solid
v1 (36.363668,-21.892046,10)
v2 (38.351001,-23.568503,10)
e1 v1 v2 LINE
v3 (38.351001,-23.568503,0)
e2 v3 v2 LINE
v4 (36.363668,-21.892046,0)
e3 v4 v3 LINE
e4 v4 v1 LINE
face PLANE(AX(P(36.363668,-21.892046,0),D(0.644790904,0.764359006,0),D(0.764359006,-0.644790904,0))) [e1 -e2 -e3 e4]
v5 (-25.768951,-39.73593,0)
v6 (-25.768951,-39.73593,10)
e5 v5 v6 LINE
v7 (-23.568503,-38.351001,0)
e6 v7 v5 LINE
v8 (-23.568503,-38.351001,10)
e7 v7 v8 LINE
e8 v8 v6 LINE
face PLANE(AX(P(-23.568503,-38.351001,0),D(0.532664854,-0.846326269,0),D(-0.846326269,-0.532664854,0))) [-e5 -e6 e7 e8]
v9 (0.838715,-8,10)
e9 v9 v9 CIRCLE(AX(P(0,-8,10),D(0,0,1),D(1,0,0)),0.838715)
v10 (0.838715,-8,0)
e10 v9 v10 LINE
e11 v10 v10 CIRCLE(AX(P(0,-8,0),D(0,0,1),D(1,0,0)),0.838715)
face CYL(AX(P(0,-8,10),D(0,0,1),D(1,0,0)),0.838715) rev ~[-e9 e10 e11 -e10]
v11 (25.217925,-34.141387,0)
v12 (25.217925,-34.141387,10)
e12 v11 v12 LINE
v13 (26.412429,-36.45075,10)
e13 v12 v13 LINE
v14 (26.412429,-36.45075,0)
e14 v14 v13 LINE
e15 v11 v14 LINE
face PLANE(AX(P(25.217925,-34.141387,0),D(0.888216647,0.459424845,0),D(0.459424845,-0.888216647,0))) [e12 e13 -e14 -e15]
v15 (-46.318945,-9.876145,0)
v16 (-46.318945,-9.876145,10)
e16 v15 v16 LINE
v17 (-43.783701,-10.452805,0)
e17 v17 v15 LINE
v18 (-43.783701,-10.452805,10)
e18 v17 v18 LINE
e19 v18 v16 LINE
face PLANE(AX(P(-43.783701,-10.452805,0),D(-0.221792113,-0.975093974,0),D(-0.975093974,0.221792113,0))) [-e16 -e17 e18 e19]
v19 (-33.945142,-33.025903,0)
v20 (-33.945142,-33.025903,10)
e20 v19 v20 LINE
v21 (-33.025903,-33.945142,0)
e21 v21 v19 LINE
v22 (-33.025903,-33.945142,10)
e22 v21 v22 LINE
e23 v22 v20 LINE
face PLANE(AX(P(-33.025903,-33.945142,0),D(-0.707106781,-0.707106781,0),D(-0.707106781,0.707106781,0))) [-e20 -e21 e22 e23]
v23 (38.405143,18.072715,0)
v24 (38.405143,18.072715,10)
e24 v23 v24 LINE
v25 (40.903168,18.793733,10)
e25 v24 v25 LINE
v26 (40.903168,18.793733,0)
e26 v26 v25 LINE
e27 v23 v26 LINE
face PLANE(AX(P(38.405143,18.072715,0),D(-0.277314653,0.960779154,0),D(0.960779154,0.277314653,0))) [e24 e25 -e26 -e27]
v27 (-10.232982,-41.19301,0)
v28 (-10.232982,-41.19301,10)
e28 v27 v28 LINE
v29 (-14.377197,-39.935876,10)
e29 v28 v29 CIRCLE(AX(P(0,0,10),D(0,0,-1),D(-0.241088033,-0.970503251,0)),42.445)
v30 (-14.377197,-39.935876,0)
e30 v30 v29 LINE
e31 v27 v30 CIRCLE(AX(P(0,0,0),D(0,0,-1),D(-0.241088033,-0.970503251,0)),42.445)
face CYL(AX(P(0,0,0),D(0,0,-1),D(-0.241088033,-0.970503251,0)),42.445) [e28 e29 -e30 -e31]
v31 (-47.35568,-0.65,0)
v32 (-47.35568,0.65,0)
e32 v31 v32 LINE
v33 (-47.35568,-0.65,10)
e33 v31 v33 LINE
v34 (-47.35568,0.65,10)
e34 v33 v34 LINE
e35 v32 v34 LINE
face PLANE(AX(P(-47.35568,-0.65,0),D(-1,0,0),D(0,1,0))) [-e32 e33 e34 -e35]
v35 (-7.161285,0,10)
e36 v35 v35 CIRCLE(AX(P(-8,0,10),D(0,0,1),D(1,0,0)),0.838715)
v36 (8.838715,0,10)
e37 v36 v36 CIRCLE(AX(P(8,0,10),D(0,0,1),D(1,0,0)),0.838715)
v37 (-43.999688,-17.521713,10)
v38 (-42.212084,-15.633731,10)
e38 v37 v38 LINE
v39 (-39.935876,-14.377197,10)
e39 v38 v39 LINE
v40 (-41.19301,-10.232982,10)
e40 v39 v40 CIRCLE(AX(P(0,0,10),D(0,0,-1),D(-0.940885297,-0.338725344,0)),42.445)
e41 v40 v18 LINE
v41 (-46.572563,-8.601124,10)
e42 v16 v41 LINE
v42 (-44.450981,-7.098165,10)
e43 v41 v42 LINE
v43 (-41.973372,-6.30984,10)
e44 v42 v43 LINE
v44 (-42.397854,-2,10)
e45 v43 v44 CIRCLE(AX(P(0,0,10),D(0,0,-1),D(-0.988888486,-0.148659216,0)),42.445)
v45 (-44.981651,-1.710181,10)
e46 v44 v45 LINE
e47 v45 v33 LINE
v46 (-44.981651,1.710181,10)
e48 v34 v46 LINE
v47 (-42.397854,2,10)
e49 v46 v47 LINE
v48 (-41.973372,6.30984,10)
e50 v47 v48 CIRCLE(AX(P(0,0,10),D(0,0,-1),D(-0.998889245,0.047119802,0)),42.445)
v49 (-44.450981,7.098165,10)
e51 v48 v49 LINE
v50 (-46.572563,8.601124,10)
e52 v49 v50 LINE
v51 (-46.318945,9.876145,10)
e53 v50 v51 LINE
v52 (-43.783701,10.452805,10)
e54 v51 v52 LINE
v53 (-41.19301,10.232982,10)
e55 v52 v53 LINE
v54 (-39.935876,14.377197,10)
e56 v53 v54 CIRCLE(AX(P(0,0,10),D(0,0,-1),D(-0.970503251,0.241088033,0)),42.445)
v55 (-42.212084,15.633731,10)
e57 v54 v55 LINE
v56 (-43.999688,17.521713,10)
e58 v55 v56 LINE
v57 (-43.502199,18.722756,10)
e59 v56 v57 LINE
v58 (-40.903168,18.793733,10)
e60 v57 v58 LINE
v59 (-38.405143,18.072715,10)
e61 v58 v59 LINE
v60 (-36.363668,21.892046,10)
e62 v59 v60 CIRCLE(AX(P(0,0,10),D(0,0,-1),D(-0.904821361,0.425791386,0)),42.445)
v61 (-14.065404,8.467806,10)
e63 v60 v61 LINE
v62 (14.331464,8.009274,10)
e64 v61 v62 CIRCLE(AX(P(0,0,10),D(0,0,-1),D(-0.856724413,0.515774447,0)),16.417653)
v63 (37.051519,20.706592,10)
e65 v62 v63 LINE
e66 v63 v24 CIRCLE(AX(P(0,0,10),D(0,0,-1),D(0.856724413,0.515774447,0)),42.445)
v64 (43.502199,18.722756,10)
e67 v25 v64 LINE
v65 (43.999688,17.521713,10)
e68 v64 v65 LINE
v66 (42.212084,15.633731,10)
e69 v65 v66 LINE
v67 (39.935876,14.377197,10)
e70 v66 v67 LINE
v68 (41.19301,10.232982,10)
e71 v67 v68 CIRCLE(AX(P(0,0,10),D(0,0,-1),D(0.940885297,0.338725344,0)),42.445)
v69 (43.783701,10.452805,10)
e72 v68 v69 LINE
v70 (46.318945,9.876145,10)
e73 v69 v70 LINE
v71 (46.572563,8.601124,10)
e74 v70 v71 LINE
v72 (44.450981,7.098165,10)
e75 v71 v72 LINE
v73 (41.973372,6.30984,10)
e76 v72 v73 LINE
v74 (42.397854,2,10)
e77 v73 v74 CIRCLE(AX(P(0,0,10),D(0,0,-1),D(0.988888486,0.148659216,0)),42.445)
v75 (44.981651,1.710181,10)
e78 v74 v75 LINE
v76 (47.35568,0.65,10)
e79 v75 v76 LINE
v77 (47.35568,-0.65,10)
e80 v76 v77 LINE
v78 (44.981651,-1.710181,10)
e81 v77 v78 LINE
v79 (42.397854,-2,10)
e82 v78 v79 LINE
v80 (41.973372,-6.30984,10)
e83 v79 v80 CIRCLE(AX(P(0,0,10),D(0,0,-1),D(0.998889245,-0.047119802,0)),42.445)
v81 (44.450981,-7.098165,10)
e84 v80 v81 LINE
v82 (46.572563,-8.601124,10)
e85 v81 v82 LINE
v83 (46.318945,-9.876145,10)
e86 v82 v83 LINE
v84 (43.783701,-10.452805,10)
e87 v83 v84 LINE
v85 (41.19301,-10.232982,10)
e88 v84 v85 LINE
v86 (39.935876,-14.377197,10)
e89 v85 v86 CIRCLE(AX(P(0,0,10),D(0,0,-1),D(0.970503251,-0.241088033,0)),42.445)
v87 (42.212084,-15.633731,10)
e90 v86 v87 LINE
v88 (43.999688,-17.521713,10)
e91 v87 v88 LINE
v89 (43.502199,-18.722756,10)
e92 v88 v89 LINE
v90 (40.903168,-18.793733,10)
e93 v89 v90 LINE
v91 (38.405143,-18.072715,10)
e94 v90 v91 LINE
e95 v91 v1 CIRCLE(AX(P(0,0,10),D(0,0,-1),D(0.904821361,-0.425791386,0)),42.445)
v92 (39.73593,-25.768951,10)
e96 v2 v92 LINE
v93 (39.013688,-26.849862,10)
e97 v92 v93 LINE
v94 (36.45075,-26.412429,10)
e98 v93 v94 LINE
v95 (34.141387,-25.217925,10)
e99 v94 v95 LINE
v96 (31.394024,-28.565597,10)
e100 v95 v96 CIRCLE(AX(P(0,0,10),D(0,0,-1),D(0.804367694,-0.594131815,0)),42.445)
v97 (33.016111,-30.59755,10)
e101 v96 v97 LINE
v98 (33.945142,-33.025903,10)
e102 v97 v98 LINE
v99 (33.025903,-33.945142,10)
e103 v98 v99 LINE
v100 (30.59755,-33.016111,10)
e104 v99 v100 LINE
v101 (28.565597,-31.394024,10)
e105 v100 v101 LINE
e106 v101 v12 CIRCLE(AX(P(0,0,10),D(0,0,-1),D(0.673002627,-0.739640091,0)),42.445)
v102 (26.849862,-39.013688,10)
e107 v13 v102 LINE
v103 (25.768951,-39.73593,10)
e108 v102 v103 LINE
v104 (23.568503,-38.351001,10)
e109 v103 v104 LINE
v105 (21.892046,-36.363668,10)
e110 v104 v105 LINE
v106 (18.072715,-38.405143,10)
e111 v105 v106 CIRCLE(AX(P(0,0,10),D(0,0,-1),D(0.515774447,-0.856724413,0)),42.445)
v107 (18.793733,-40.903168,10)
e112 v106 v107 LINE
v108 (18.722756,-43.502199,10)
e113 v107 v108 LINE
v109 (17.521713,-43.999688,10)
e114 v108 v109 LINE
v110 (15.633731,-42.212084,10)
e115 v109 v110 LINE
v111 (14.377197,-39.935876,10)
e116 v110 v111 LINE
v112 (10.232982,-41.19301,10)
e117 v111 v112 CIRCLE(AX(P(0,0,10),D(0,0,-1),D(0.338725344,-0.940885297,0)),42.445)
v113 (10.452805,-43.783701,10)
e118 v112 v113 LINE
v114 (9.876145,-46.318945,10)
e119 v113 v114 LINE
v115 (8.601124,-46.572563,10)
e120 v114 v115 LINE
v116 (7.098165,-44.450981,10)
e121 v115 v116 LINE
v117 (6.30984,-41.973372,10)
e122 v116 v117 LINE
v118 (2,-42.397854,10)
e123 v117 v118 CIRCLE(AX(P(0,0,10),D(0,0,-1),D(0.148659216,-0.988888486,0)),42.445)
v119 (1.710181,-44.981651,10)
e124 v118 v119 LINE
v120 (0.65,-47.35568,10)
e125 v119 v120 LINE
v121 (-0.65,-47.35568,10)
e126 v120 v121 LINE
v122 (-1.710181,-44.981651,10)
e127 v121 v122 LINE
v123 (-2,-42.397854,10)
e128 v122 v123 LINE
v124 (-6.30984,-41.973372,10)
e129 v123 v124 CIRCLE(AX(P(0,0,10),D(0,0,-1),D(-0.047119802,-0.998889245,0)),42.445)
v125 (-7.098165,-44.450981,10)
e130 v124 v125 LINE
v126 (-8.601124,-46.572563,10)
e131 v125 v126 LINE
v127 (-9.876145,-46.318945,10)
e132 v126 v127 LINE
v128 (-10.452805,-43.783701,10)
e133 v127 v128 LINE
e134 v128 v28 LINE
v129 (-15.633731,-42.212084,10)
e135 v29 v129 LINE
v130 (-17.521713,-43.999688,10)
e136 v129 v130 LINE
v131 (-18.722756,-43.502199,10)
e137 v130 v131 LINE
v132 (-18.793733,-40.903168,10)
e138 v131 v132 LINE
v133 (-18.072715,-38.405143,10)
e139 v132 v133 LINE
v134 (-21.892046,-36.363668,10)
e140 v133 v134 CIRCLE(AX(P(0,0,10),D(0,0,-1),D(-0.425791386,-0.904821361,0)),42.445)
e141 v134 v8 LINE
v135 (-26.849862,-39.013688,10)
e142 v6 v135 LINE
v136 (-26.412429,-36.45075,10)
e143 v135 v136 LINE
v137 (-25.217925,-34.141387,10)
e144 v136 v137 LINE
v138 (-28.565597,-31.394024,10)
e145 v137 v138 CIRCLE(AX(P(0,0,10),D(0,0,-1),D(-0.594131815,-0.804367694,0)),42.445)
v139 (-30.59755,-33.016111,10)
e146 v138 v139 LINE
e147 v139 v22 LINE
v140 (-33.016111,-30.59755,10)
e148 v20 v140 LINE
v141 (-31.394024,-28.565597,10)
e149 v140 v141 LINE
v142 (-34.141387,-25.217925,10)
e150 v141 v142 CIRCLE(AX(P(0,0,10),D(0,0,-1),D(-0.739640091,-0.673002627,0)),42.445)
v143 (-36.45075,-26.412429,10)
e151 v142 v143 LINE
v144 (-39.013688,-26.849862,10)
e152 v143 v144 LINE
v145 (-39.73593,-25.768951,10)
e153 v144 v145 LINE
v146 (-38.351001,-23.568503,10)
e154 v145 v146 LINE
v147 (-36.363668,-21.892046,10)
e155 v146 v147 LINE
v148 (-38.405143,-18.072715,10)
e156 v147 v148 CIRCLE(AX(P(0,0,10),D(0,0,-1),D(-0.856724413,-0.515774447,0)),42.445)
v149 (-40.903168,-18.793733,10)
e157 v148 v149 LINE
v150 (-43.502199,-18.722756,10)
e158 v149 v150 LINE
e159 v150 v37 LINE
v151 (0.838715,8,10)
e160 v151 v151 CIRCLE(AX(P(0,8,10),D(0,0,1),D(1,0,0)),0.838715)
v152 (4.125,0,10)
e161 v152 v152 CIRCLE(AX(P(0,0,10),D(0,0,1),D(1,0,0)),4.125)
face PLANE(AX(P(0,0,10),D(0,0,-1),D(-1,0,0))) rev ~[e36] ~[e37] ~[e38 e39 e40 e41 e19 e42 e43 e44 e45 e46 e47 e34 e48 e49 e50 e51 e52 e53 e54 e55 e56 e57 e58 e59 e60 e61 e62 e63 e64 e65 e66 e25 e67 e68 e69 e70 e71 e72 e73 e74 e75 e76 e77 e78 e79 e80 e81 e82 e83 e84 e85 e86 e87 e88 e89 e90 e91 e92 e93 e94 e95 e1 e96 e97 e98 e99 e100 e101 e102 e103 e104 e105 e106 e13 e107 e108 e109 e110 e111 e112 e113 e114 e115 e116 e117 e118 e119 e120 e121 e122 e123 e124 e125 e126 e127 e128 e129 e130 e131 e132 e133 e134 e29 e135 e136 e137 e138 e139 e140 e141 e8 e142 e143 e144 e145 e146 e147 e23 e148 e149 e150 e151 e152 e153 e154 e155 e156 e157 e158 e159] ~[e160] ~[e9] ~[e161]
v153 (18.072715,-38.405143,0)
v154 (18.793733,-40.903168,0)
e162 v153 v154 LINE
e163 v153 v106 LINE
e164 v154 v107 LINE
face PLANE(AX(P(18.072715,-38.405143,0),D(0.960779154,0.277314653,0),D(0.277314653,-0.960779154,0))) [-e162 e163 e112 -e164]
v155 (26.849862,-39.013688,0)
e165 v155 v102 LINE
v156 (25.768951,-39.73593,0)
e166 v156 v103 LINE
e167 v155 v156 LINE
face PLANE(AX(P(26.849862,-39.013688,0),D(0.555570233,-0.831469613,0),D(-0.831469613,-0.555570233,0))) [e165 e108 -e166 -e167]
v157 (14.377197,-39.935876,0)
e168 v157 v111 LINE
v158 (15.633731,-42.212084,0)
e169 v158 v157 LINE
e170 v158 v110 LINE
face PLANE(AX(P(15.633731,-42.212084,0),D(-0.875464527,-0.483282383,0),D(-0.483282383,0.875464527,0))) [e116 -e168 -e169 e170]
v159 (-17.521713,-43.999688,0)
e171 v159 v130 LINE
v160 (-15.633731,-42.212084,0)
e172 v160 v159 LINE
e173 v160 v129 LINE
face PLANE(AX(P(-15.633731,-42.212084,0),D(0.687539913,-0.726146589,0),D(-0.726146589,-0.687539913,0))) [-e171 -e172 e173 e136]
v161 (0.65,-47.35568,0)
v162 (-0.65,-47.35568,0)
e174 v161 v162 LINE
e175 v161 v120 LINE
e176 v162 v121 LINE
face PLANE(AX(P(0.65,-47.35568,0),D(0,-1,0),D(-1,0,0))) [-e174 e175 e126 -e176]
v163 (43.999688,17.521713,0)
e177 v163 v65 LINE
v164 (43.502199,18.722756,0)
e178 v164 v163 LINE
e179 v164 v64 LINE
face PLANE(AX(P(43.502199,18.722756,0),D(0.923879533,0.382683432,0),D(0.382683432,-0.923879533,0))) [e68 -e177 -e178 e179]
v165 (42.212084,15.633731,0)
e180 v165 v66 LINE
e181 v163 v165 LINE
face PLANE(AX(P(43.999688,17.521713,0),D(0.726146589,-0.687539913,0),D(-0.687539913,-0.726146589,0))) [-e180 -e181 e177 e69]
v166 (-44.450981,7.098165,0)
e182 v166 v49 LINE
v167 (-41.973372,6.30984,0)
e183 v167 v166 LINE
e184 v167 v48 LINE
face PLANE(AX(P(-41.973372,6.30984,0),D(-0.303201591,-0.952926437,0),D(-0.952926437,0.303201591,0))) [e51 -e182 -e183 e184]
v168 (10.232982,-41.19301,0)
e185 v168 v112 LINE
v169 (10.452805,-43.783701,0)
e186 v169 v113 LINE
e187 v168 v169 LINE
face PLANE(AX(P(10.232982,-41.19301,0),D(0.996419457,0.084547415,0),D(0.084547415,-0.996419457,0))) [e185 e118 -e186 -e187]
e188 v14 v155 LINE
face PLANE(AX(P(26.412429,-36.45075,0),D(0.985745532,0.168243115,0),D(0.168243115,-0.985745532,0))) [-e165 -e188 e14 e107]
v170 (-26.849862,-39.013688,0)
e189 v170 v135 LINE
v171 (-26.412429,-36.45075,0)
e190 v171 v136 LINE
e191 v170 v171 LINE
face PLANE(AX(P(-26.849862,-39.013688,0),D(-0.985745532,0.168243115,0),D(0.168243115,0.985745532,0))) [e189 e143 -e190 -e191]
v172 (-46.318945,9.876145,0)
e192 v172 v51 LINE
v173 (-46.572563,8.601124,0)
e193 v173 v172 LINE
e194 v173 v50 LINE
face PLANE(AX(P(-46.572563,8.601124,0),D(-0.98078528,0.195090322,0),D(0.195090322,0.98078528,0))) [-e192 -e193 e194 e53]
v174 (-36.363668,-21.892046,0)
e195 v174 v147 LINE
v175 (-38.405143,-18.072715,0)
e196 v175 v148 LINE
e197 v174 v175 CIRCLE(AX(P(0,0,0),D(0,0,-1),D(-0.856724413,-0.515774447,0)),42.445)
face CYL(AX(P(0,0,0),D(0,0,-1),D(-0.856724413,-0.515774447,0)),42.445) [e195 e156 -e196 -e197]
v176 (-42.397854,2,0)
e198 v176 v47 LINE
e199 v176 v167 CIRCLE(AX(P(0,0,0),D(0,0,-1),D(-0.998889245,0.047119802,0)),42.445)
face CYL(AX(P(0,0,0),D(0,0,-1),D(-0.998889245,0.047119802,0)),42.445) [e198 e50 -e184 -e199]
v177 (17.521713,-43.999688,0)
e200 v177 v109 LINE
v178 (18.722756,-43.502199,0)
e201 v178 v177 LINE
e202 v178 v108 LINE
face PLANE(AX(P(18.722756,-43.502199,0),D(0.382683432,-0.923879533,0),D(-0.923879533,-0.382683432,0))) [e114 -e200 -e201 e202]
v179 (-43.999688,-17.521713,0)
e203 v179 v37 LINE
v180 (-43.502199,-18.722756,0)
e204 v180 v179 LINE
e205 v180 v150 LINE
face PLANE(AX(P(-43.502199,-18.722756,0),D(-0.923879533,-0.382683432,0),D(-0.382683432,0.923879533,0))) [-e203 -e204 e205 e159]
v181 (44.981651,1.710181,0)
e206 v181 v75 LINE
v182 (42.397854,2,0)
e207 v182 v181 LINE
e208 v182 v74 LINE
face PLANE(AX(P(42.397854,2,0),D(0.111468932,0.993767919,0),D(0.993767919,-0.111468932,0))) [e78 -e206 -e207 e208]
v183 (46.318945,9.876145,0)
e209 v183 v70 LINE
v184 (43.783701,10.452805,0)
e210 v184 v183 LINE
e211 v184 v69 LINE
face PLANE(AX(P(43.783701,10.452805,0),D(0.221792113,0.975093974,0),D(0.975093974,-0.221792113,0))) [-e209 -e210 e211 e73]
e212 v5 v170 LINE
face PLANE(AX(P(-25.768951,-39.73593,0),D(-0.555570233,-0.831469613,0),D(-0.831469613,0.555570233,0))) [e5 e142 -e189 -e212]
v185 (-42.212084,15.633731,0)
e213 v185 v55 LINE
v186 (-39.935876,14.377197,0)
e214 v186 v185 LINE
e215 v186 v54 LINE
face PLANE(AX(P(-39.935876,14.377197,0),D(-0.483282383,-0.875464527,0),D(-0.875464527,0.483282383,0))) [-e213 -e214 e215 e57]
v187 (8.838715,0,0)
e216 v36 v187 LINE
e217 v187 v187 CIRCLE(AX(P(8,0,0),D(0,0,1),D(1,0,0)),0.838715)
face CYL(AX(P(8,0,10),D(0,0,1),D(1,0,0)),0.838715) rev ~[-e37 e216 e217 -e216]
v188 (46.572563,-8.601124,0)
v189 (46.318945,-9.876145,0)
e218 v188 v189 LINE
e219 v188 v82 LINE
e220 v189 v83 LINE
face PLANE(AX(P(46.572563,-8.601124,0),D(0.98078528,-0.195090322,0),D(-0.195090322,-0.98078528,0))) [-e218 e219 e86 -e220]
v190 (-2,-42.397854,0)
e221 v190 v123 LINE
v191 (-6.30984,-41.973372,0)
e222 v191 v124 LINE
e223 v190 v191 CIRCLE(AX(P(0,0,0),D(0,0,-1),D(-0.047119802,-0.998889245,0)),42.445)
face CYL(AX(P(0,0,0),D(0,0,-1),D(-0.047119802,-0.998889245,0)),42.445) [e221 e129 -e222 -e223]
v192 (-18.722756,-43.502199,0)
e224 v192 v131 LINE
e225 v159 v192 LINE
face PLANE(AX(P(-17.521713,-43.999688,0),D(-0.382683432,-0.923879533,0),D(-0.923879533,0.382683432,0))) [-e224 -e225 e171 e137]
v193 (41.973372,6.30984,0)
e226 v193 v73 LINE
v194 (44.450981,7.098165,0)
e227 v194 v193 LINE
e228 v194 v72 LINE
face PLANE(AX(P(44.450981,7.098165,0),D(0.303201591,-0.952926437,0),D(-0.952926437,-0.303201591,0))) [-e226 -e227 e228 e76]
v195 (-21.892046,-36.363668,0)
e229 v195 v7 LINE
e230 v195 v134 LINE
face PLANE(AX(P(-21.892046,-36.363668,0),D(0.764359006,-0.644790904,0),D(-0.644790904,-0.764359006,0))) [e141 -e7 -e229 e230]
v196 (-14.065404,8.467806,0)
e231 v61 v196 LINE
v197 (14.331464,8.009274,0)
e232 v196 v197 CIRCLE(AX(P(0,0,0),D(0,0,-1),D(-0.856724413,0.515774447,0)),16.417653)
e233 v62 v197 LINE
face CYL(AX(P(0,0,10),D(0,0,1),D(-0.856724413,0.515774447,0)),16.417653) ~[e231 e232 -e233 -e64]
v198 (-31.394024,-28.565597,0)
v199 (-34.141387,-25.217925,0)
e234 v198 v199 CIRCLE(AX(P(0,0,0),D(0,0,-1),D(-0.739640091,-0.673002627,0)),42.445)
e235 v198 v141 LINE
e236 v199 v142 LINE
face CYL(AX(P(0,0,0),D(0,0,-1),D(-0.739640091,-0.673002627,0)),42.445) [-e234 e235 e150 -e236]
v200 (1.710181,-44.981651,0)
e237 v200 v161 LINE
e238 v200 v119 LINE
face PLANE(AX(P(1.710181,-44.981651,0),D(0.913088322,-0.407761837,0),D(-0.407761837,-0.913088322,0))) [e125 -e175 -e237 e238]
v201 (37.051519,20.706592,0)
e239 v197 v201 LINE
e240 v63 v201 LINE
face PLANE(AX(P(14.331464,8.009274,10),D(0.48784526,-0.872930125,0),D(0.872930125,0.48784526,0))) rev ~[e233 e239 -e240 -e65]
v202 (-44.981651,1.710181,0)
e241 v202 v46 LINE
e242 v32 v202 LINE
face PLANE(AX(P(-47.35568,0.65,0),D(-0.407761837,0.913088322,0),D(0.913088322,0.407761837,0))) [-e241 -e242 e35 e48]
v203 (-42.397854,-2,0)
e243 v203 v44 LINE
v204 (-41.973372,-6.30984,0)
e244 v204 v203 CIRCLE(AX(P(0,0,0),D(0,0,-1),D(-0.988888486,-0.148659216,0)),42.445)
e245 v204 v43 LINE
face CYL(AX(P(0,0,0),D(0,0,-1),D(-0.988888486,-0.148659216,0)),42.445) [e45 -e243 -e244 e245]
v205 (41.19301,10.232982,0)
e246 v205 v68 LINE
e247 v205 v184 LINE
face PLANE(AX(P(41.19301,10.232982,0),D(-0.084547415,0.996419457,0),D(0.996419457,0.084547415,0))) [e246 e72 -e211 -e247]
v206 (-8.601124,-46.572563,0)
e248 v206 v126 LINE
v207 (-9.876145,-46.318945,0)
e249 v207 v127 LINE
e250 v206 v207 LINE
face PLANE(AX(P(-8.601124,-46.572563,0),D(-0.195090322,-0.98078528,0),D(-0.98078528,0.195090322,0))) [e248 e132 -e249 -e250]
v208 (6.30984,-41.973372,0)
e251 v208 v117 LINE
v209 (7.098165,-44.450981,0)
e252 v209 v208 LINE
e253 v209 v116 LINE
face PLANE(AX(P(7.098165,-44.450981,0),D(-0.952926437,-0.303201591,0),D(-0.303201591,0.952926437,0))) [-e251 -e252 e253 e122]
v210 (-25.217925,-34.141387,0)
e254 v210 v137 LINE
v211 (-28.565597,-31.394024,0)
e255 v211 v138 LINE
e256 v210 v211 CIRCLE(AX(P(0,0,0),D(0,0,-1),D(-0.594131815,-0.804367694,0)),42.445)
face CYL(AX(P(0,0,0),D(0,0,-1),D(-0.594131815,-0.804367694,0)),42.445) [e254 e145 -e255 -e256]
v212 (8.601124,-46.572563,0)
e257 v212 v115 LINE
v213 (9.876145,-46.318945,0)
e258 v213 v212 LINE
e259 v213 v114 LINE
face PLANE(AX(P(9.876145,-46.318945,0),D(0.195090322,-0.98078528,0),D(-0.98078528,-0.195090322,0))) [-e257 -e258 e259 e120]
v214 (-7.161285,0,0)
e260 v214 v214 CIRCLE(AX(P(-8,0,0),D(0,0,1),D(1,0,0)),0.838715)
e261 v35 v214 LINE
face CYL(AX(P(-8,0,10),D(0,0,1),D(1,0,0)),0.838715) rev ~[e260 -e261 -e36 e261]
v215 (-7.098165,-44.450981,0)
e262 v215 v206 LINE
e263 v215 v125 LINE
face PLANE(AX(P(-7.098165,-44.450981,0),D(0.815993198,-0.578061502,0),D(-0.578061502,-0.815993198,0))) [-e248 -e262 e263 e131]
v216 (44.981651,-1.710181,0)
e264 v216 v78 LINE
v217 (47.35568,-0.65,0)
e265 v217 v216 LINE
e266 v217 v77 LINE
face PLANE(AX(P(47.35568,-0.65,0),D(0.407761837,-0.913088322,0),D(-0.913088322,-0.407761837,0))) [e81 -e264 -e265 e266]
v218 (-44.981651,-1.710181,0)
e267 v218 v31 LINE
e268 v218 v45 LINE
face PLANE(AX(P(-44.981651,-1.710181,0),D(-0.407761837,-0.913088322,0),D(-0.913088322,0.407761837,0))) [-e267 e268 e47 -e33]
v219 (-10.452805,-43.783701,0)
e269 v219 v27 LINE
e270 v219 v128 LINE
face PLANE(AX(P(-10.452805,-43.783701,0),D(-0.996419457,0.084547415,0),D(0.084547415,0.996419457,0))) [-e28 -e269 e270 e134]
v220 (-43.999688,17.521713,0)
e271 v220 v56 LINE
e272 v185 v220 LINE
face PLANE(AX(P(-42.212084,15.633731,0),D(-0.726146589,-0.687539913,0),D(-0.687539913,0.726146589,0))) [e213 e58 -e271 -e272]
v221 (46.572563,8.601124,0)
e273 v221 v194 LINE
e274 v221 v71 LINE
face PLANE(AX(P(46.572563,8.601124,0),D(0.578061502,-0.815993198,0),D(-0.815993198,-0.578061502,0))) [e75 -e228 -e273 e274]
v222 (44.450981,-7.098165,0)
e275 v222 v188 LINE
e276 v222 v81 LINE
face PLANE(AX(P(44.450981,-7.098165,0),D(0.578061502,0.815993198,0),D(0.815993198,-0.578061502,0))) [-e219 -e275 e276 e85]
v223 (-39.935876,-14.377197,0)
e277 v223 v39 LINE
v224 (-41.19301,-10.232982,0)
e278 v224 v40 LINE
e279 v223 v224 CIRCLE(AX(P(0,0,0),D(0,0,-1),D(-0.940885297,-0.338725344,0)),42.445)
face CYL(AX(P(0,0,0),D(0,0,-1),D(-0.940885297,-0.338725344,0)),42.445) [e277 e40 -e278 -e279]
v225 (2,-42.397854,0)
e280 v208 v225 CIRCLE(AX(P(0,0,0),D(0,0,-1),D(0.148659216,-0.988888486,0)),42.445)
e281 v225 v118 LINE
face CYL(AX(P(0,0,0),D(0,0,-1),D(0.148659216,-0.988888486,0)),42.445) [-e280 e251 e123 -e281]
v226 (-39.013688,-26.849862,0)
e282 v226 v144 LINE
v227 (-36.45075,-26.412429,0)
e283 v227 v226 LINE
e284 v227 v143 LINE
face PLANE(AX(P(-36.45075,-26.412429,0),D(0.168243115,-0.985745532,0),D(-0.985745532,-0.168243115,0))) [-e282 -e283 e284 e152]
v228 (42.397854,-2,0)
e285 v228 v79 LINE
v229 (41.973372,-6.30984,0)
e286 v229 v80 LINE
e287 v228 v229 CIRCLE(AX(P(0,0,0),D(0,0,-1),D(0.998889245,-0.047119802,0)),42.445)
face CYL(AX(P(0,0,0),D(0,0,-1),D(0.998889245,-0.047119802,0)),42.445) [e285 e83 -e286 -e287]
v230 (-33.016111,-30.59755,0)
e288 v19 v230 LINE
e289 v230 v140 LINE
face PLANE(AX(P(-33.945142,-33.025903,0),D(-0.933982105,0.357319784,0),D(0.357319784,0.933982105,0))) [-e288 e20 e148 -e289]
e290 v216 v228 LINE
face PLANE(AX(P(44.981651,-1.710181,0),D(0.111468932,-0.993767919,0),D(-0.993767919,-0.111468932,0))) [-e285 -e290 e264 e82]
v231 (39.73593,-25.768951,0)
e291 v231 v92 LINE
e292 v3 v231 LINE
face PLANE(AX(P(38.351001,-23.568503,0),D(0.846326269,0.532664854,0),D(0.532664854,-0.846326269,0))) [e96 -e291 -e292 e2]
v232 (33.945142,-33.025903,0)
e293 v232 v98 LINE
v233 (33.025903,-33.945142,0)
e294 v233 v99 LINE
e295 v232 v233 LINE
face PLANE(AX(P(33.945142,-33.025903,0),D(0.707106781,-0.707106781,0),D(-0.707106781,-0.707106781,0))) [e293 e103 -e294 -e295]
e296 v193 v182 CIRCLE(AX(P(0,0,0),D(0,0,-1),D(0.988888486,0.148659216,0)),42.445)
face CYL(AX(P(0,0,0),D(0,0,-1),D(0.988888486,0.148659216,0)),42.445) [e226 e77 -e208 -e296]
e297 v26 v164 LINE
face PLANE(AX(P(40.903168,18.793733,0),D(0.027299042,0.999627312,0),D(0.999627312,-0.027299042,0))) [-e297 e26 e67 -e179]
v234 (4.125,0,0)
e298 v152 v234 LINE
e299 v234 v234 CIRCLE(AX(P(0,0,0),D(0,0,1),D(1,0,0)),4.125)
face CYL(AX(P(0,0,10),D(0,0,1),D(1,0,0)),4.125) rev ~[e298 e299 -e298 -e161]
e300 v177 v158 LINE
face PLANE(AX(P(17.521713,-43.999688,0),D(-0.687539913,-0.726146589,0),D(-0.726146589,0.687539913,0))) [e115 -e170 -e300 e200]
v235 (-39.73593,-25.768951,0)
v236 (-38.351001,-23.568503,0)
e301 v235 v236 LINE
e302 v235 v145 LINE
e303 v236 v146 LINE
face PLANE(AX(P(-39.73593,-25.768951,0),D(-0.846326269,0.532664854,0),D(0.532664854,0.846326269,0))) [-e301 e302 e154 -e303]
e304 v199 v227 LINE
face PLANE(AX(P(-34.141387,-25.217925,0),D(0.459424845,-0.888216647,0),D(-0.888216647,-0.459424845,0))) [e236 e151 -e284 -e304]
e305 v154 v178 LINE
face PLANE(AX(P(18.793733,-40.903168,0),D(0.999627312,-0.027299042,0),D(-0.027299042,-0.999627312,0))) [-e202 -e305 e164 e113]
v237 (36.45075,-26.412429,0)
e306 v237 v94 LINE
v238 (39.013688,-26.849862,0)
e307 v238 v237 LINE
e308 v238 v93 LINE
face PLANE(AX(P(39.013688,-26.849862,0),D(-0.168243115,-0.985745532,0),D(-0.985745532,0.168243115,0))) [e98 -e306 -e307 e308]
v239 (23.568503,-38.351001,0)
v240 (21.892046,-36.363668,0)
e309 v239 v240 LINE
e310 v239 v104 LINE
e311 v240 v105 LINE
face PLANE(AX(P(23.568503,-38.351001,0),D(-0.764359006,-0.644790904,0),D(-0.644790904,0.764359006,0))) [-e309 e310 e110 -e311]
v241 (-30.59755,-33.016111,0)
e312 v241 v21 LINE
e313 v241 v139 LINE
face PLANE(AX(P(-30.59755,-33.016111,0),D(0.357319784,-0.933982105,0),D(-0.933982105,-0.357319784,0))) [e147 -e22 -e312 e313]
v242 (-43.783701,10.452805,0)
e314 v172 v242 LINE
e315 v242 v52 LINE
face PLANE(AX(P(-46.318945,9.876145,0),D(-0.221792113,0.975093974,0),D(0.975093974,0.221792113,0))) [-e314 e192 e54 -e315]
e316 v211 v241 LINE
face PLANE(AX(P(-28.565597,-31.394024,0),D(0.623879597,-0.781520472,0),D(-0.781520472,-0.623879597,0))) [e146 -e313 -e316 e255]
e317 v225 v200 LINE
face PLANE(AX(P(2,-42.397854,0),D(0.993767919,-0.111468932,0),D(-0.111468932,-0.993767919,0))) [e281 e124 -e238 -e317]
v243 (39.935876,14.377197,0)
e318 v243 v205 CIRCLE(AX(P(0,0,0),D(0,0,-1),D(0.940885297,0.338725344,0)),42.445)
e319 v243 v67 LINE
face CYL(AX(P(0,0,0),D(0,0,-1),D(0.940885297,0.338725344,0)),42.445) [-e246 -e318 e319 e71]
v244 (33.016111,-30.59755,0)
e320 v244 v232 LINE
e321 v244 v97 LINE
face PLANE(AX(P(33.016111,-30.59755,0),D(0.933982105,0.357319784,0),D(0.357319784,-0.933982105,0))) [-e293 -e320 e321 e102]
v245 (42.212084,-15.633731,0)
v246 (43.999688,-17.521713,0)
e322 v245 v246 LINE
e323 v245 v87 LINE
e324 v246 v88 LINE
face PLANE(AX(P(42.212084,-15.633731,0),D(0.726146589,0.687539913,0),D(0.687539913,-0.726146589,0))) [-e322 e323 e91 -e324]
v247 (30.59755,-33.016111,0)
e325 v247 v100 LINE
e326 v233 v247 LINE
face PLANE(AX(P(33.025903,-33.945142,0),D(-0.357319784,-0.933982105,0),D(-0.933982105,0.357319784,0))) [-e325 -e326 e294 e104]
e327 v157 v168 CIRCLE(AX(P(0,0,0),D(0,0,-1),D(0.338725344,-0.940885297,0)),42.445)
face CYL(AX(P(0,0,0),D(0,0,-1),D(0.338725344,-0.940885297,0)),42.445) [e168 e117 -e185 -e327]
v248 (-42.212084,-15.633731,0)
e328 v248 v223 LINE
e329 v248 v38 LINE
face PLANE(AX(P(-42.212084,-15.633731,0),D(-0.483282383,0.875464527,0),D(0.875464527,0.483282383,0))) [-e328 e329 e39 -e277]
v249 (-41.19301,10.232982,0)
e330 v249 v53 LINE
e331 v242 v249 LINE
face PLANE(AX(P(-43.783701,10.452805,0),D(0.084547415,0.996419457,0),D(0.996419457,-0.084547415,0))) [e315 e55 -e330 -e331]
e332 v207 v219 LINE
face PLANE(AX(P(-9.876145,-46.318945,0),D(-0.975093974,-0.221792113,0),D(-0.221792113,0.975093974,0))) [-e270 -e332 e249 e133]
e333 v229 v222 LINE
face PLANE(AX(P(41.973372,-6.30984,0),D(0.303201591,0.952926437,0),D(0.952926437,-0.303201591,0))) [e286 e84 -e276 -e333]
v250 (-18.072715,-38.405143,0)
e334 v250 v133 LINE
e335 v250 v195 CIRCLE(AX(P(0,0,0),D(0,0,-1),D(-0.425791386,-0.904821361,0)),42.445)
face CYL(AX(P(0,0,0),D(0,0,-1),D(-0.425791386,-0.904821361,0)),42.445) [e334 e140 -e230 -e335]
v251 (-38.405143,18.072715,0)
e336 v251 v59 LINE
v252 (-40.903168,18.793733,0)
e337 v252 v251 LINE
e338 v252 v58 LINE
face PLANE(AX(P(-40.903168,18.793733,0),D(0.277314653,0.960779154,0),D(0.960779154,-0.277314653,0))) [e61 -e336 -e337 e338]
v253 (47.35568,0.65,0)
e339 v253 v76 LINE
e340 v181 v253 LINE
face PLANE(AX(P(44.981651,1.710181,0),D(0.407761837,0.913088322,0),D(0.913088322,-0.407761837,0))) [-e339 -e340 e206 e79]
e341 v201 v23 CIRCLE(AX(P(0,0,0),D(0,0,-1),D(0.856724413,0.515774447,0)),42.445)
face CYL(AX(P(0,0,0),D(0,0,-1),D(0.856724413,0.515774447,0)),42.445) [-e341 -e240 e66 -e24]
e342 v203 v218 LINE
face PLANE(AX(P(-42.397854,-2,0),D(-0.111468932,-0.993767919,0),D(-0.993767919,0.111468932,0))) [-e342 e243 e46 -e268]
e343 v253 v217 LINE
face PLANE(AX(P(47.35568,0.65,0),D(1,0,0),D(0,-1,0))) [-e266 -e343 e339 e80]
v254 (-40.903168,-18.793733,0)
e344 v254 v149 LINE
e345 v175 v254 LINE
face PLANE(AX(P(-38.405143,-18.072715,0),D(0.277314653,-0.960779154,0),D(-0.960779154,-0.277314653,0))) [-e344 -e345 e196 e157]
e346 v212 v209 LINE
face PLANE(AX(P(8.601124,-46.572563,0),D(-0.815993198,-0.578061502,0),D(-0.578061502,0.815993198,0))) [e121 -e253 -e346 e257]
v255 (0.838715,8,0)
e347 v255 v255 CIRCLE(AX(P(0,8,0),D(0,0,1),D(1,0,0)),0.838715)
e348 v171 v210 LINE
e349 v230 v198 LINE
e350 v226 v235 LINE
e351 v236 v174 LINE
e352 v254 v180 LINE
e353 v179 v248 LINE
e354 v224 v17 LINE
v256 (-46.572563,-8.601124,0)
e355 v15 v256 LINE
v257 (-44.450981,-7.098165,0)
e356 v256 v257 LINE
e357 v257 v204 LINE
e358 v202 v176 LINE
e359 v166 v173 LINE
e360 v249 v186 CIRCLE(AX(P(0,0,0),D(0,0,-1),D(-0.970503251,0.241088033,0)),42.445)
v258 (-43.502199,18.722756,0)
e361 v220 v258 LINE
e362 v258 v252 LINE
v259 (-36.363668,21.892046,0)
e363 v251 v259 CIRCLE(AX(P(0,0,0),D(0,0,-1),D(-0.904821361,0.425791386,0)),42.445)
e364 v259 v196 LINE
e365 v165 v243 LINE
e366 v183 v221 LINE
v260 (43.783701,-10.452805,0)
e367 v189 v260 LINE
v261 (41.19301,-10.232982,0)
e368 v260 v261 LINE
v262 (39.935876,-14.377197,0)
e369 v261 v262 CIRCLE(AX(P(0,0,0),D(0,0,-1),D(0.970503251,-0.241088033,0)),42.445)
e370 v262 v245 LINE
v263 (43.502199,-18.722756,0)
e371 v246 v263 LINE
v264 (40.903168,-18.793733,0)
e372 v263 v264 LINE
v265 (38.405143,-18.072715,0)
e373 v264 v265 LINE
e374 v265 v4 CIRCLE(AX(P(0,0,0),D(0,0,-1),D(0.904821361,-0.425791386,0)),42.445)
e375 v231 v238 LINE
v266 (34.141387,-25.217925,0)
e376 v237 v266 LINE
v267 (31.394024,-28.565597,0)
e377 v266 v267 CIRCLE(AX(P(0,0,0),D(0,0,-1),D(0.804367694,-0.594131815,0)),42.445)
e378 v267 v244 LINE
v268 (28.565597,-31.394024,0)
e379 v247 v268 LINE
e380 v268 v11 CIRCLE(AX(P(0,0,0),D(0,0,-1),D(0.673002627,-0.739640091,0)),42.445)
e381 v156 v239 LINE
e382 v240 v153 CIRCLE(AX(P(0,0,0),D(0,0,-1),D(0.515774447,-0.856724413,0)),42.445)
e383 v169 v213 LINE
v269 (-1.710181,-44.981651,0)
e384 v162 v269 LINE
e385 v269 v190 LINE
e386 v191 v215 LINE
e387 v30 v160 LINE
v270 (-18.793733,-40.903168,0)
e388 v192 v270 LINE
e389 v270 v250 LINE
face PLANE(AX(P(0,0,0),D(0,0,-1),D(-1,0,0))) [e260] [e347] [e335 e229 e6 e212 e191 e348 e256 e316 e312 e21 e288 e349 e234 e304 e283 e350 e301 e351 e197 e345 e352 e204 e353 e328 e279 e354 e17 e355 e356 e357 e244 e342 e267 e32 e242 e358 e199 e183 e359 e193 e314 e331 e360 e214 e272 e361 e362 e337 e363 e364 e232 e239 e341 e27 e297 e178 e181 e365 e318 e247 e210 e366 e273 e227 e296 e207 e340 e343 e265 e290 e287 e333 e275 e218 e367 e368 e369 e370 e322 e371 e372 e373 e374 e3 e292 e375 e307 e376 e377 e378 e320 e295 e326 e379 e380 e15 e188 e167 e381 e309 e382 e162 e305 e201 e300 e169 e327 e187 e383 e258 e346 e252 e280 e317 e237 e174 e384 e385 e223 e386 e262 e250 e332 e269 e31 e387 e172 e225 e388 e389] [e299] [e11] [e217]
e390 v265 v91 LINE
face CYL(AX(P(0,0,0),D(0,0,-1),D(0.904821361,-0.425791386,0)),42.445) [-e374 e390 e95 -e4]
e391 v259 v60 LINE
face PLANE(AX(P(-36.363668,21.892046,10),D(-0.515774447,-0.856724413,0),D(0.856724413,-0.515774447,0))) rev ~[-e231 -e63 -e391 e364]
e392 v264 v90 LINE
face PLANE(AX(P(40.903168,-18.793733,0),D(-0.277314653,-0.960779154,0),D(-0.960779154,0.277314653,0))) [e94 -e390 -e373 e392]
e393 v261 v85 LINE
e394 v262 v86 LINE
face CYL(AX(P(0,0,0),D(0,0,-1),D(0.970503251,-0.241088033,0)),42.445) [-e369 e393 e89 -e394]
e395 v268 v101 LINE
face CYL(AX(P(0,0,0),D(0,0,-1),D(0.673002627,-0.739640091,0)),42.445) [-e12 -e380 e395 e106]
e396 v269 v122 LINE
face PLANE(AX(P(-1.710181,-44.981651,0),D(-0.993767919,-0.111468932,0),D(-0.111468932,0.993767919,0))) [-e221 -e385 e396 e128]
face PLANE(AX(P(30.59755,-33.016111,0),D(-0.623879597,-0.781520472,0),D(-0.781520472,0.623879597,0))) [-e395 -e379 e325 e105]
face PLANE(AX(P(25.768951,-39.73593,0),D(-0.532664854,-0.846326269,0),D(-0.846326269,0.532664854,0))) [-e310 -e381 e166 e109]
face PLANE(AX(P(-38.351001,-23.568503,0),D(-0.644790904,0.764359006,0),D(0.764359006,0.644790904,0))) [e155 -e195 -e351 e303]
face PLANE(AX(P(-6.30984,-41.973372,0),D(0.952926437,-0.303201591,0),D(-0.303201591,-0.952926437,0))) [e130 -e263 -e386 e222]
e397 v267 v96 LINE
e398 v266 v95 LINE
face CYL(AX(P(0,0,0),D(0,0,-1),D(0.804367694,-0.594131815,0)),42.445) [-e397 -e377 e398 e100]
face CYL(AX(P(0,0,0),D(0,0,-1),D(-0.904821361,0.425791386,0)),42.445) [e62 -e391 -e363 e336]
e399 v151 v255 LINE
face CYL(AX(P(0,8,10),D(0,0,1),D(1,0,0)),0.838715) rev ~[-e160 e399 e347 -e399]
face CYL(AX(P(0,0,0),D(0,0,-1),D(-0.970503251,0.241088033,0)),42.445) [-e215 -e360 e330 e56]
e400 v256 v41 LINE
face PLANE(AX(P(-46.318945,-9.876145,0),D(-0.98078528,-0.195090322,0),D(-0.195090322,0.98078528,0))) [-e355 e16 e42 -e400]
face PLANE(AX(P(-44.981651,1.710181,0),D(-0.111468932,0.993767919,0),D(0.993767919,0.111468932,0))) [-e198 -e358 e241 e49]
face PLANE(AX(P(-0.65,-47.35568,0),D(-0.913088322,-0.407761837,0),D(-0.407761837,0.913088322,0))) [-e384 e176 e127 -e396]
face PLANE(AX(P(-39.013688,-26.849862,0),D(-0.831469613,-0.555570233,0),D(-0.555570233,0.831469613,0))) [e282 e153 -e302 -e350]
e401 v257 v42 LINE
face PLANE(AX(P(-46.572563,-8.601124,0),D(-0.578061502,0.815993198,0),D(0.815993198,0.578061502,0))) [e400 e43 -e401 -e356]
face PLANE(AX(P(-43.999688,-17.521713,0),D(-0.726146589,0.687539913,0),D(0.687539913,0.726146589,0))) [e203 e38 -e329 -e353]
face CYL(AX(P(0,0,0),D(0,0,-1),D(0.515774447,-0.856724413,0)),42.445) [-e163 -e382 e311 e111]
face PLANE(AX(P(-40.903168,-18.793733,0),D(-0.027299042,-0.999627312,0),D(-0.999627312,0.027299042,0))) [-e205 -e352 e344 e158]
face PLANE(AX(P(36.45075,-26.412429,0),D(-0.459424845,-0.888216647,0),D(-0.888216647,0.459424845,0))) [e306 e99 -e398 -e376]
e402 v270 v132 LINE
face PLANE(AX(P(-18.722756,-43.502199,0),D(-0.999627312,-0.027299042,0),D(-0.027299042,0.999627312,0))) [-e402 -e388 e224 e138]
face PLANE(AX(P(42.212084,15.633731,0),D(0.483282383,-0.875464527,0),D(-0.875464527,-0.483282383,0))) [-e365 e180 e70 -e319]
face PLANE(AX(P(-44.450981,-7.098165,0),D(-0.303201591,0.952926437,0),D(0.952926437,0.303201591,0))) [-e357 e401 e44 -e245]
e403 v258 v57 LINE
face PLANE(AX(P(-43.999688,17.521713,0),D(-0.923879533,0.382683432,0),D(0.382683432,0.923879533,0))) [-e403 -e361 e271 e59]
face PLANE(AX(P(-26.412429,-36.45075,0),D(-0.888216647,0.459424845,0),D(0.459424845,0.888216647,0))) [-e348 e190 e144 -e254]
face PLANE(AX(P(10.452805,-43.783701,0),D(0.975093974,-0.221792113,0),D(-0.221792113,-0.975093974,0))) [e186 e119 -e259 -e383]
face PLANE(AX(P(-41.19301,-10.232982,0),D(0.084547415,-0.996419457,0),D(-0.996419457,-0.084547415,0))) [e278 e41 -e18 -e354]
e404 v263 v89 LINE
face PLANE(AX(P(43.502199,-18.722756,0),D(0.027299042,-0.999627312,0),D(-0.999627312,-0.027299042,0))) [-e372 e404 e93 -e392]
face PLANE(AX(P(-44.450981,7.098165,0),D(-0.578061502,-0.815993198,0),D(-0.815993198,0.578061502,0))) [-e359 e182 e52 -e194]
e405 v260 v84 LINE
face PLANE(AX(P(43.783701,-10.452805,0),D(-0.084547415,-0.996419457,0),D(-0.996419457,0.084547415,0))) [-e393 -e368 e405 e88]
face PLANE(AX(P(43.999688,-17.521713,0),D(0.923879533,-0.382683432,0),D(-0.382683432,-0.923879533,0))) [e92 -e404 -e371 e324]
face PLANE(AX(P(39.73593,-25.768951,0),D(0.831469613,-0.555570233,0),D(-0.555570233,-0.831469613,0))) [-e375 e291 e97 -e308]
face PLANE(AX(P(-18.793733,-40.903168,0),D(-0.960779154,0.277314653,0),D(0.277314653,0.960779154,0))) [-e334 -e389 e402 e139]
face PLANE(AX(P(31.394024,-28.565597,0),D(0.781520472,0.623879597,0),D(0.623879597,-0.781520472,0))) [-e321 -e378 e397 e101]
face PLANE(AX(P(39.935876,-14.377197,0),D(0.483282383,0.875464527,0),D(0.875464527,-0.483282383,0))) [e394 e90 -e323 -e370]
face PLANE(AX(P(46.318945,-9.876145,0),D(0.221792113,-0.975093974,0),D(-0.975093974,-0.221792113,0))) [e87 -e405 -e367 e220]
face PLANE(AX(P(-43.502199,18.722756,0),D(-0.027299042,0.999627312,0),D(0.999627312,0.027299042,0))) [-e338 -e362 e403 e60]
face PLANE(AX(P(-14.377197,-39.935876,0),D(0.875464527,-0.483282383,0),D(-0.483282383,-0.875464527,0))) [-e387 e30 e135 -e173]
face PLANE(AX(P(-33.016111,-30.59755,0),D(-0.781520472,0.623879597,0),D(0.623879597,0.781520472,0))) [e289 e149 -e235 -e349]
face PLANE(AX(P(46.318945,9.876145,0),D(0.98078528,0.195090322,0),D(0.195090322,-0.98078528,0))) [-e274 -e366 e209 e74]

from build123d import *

# Parameters (mm, degrees)
BOSS_EXTRU_1_DEPTH      = 10
ESQUISSE2_R             = 0.838714544
ESQUISSE2_R_2           = 4.125
ENL_V_MAT_EXTRU_3_DEPTH = 10
ENL_V_MAT_EXTRU_6_DEPTH = 10


with BuildPart() as part:
    # Esquisse1 → Boss.-Extru.1 (new body)
    with BuildSketch(Plane.XY):
        with BuildLine():
            Line((-2, 42.397854014), (-1.710180776, 44.981650604))
            Line((-1.710180776, 44.981650604), (-0.65, 47.355680242))
            Line((-0.65, 47.355680242), (0.65, 47.355680242))
            Line((0.65, 47.355680242), (1.710180776, 44.981650604))
            Line((1.710180776, 44.981650604), (2, 42.397854014))
            ThreePointArc((2, 42.397854014), (4.160337521, 42.240615724), (6.309840432, 41.973371782))
            Line((6.309840432, 41.973371782), (7.098164569, 44.450980519))
            Line((7.098164569, 44.450980519), (8.601124475, 46.572562834))
            Line((8.601124475, 46.572562834), (9.87614534, 46.318945415))
            Line((9.87614534, 46.318945415), (10.452804833, 43.783701082))
            Line((10.452804833, 43.783701082), (10.232981553, 41.193010494))
            ThreePointArc((10.232981553, 41.193010494), (12.321133126, 40.61733255), (14.377197234, 39.935876411))
            Line((14.377197234, 39.935876411), (15.63373143, 42.212084181))
            Line((15.63373143, 42.212084181), (17.521712561, 43.999687955))
            Line((17.521712561, 43.999687955), (18.722755953, 43.502199493))
            Line((18.722755953, 43.502199493), (18.793733463, 40.903168482))
            Line((18.793733463, 40.903168482), (18.072715364, 38.405142681))
            ThreePointArc((18.072715364, 38.405142681), (20.008434495, 37.433148065), (21.89204641, 36.363667706))
            Line((21.89204641, 36.363667706), (23.568502761, 38.351001121))
            Line((23.568502761, 38.351001121), (25.768951059, 39.735929742))
            Line((25.768951059, 39.735929742), (26.849861555, 39.01368844))
            Line((26.849861555, 39.01368844), (26.412429455, 36.450750056))
            Line((26.412429455, 36.450750056), (25.217924859, 34.141386774))
            ThreePointArc((25.217924859, 34.141386774), (26.926822946, 32.810428693), (28.565596519, 31.394023643))
            Line((28.565596519, 31.394023643), (30.597549747, 33.016110595))
            Line((30.597549747, 33.016110595), (33.025903219, 33.945142034))
            Line((33.025903219, 33.945142034), (33.945142034, 33.025903219))
            Line((33.945142034, 33.025903219), (33.016110595, 30.597549747))
            Line((33.016110595, 30.597549747), (31.394023643, 28.565596519))
            ThreePointArc((31.394023643, 28.565596519), (32.810428693, 26.926822946), (34.141386774, 25.217924859))
            Line((34.141386774, 25.217924859), (36.450750056, 26.412429455))
            Line((36.450750056, 26.412429455), (39.01368844, 26.849861555))
            Line((39.01368844, 26.849861555), (39.735929742, 25.768951059))
            Line((39.735929742, 25.768951059), (38.351001121, 23.568502761))
            Line((38.351001121, 23.568502761), (36.363667706, 21.89204641))
            ThreePointArc((36.363667706, 21.89204641), (37.433148065, 20.008434495), (38.405142681, 18.072715364))
            Line((38.405142681, 18.072715364), (40.903168482, 18.793733463))
            Line((40.903168482, 18.793733463), (43.502199493, 18.722755953))
            Line((43.502199493, 18.722755953), (43.999687955, 17.521712561))
            Line((43.999687955, 17.521712561), (42.212084181, 15.63373143))
            Line((42.212084181, 15.63373143), (39.935876411, 14.377197234))
            ThreePointArc((39.935876411, 14.377197234), (40.61733255, 12.321133126), (41.193010494, 10.232981553))
            Line((41.193010494, 10.232981553), (43.783701082, 10.452804833))
            Line((43.783701082, 10.452804833), (46.318945415, 9.87614534))
            Line((46.318945415, 9.87614534), (46.572562834, 8.601124475))
            Line((46.572562834, 8.601124475), (44.450980519, 7.098164569))
            Line((44.450980519, 7.098164569), (41.973371782, 6.309840432))
            ThreePointArc((41.973371782, 6.309840432), (42.240615724, 4.160337521), (42.397854014, 2))
            Line((42.397854014, 2), (44.981650604, 1.710180776))
            Line((44.981650604, 1.710180776), (47.355680242, 0.65))
            Line((47.355680242, 0.65), (47.355680242, -0.65))
            Line((47.355680242, -0.65), (44.981650604, -1.710180776))
            Line((44.981650604, -1.710180776), (42.397854014, -2))
            ThreePointArc((42.397854014, -2), (42.240615724, -4.160337521), (41.973371782, -6.309840432))
            Line((41.973371782, -6.309840432), (44.450980519, -7.098164569))
            Line((44.450980519, -7.098164569), (46.572562834, -8.601124475))
            Line((46.572562834, -8.601124475), (46.318945415, -9.87614534))
            Line((46.318945415, -9.87614534), (43.783701082, -10.452804833))
            Line((43.783701082, -10.452804833), (41.193010494, -10.232981553))
            ThreePointArc((41.193010494, -10.232981553), (40.61733255, -12.321133126), (39.935876411, -14.377197234))
            Line((39.935876411, -14.377197234), (42.212084181, -15.63373143))
            Line((42.212084181, -15.63373143), (43.999687955, -17.521712561))
            Line((43.999687955, -17.521712561), (43.502199493, -18.722755953))
            Line((43.502199493, -18.722755953), (40.903168482, -18.793733463))
            Line((40.903168482, -18.793733463), (38.405142681, -18.072715364))
            ThreePointArc((38.405142681, -18.072715364), (37.433148065, -20.008434495), (36.363667706, -21.89204641))
            Line((36.363667706, -21.89204641), (38.351001121, -23.568502761))
            Line((38.351001121, -23.568502761), (39.735929742, -25.768951059))
            Line((39.735929742, -25.768951059), (39.01368844, -26.849861555))
            Line((39.01368844, -26.849861555), (36.450750056, -26.412429455))
            Line((36.450750056, -26.412429455), (34.141386774, -25.217924859))
            ThreePointArc((34.141386774, -25.217924859), (32.810428693, -26.926822946), (31.394023643, -28.565596519))
            Line((31.394023643, -28.565596519), (33.016110595, -30.597549747))
            Line((33.016110595, -30.597549747), (33.945142034, -33.025903219))
            Line((33.945142034, -33.025903219), (33.025903219, -33.945142034))
            Line((33.025903219, -33.945142034), (30.597549747, -33.016110595))
            Line((30.597549747, -33.016110595), (28.565596519, -31.394023643))
            ThreePointArc((28.565596519, -31.394023643), (26.926822946, -32.810428693), (25.217924859, -34.141386774))
            Line((25.217924859, -34.141386774), (26.412429455, -36.450750056))
            Line((26.412429455, -36.450750056), (26.849861555, -39.01368844))
            Line((26.849861555, -39.01368844), (25.768951059, -39.735929742))
            Line((25.768951059, -39.735929742), (23.568502761, -38.351001121))
            Line((23.568502761, -38.351001121), (21.89204641, -36.363667706))
            ThreePointArc((21.89204641, -36.363667706), (20.008434495, -37.433148065), (18.072715364, -38.405142681))
            Line((18.072715364, -38.405142681), (18.793733463, -40.903168482))
            Line((18.793733463, -40.903168482), (18.722755953, -43.502199493))
            Line((18.722755953, -43.502199493), (17.521712561, -43.999687955))
            Line((17.521712561, -43.999687955), (15.63373143, -42.212084181))
            Line((15.63373143, -42.212084181), (14.377197234, -39.935876411))
            ThreePointArc((14.377197234, -39.935876411), (12.321133126, -40.61733255), (10.232981553, -41.193010494))
            Line((10.232981553, -41.193010494), (10.452804833, -43.783701082))
            Line((10.452804833, -43.783701082), (9.87614534, -46.318945415))
            Line((9.87614534, -46.318945415), (8.601124475, -46.572562834))
            Line((8.601124475, -46.572562834), (7.098164569, -44.450980519))
            Line((7.098164569, -44.450980519), (6.309840432, -41.973371782))
            ThreePointArc((6.309840432, -41.973371782), (4.160337521, -42.240615724), (2, -42.397854014))
            Line((2, -42.397854014), (1.710180776, -44.981650604))
            Line((1.710180776, -44.981650604), (0.65, -47.355680242))
            Line((0.65, -47.355680242), (-0.65, -47.355680242))
            Line((-0.65, -47.355680242), (-1.710180776, -44.981650604))
            Line((-1.710180776, -44.981650604), (-2, -42.397854014))
            ThreePointArc((-2, -42.397854014), (-4.160337521, -42.240615724), (-6.309840432, -41.973371782))
            Line((-6.309840432, -41.973371782), (-7.098164569, -44.450980519))
            Line((-7.098164569, -44.450980519), (-8.601124475, -46.572562834))
            Line((-8.601124475, -46.572562834), (-9.87614534, -46.318945415))
            Line((-9.87614534, -46.318945415), (-10.452804833, -43.783701082))
            Line((-10.452804833, -43.783701082), (-10.232981553, -41.193010494))
            ThreePointArc((-10.232981553, -41.193010494), (-12.321133126, -40.61733255), (-14.377197234, -39.935876411))
            Line((-14.377197234, -39.935876411), (-15.63373143, -42.212084181))
            Line((-15.63373143, -42.212084181), (-17.521712561, -43.999687955))
            Line((-17.521712561, -43.999687955), (-18.722755953, -43.502199493))
            Line((-18.722755953, -43.502199493), (-18.793733463, -40.903168482))
            Line((-18.793733463, -40.903168482), (-18.072715364, -38.405142681))
            ThreePointArc((-18.072715364, -38.405142681), (-20.008434495, -37.433148065), (-21.89204641, -36.363667706))
            Line((-21.89204641, -36.363667706), (-23.568502761, -38.351001121))
            Line((-23.568502761, -38.351001121), (-25.768951059, -39.735929742))
            Line((-25.768951059, -39.735929742), (-26.849861555, -39.01368844))
            Line((-26.849861555, -39.01368844), (-26.412429455, -36.450750056))
            Line((-26.412429455, -36.450750056), (-25.217924859, -34.141386774))
            ThreePointArc((-25.217924859, -34.141386774), (-26.926822946, -32.810428693), (-28.565596519, -31.394023643))
            Line((-28.565596519, -31.394023643), (-30.597549747, -33.016110595))
            Line((-30.597549747, -33.016110595), (-33.025903219, -33.945142034))
            Line((-33.025903219, -33.945142034), (-33.945142034, -33.025903219))
            Line((-33.945142034, -33.025903219), (-33.016110595, -30.597549747))
            Line((-33.016110595, -30.597549747), (-31.394023643, -28.565596519))
            ThreePointArc((-31.394023643, -28.565596519), (-32.810428693, -26.926822946), (-34.141386774, -25.217924859))
            Line((-34.141386774, -25.217924859), (-36.450750056, -26.412429455))
            Line((-36.450750056, -26.412429455), (-39.01368844, -26.849861555))
            Line((-39.01368844, -26.849861555), (-39.735929742, -25.768951059))
            Line((-39.735929742, -25.768951059), (-38.351001121, -23.568502761))
            Line((-38.351001121, -23.568502761), (-36.363667706, -21.89204641))
            ThreePointArc((-36.363667706, -21.89204641), (-37.433148065, -20.008434495), (-38.405142681, -18.072715364))
            Line((-38.405142681, -18.072715364), (-40.903168482, -18.793733463))
            Line((-40.903168482, -18.793733463), (-43.502199493, -18.722755953))
            Line((-43.502199493, -18.722755953), (-43.999687955, -17.521712561))
            Line((-43.999687955, -17.521712561), (-42.212084181, -15.63373143))
            Line((-42.212084181, -15.63373143), (-39.935876411, -14.377197234))
            ThreePointArc((-39.935876411, -14.377197234), (-40.61733255, -12.321133126), (-41.193010494, -10.232981553))
            Line((-41.193010494, -10.232981553), (-43.783701082, -10.452804833))
            Line((-43.783701082, -10.452804833), (-46.318945415, -9.87614534))
            Line((-46.318945415, -9.87614534), (-46.572562834, -8.601124475))
            Line((-46.572562834, -8.601124475), (-44.450980519, -7.098164569))
            Line((-44.450980519, -7.098164569), (-41.973371782, -6.309840432))
            ThreePointArc((-41.973371782, -6.309840432), (-42.240615724, -4.160337521), (-42.397854014, -2))
            Line((-42.397854014, -2), (-44.981650604, -1.710180776))
            Line((-44.981650604, -1.710180776), (-47.355680242, -0.65))
            Line((-47.355680242, -0.65), (-47.355680242, 0.65))
            Line((-47.355680242, 0.65), (-44.981650604, 1.710180776))
            Line((-44.981650604, 1.710180776), (-42.397854014, 2))
            ThreePointArc((-42.397854014, 2), (-42.240615724, 4.160337521), (-41.973371782, 6.309840432))
            Line((-41.973371782, 6.309840432), (-44.450980519, 7.098164569))
            Line((-44.450980519, 7.098164569), (-46.572562834, 8.601124475))
            Line((-46.572562834, 8.601124475), (-46.318945415, 9.87614534))
            Line((-46.318945415, 9.87614534), (-43.783701082, 10.452804833))
            Line((-43.783701082, 10.452804833), (-41.193010494, 10.232981553))
            ThreePointArc((-41.193010494, 10.232981553), (-40.61733255, 12.321133126), (-39.935876411, 14.377197234))
            Line((-39.935876411, 14.377197234), (-42.212084181, 15.63373143))
            Line((-42.212084181, 15.63373143), (-43.999687955, 17.521712561))
            Line((-43.999687955, 17.521712561), (-43.502199493, 18.722755953))
            Line((-43.502199493, 18.722755953), (-40.903168482, 18.793733463))
            Line((-40.903168482, 18.793733463), (-38.405142681, 18.072715364))
            ThreePointArc((-38.405142681, 18.072715364), (-37.433148065, 20.008434495), (-36.363667706, 21.89204641))
            Line((-36.363667706, 21.89204641), (-38.351001121, 23.568502761))
            Line((-38.351001121, 23.568502761), (-39.735929742, 25.768951059))
            Line((-39.735929742, 25.768951059), (-39.01368844, 26.849861555))
            Line((-39.01368844, 26.849861555), (-36.450750056, 26.412429455))
            Line((-36.450750056, 26.412429455), (-34.141386774, 25.217924859))
            ThreePointArc((-34.141386774, 25.217924859), (-32.810428693, 26.926822946), (-31.394023643, 28.565596519))
            Line((-31.394023643, 28.565596519), (-33.016110595, 30.597549747))
            Line((-33.016110595, 30.597549747), (-33.945142034, 33.025903219))
            Line((-33.945142034, 33.025903219), (-33.025903219, 33.945142034))
            Line((-33.025903219, 33.945142034), (-30.597549747, 33.016110595))
            Line((-30.597549747, 33.016110595), (-28.565596519, 31.394023643))
            ThreePointArc((-28.565596519, 31.394023643), (-26.926822946, 32.810428693), (-25.217924859, 34.141386774))
            Line((-25.217924859, 34.141386774), (-26.412429455, 36.450750056))
            Line((-26.412429455, 36.450750056), (-26.849861555, 39.01368844))
            Line((-26.849861555, 39.01368844), (-25.768951059, 39.735929742))
            Line((-25.768951059, 39.735929742), (-23.568502761, 38.351001121))
            Line((-23.568502761, 38.351001121), (-21.89204641, 36.363667706))
            ThreePointArc((-21.89204641, 36.363667706), (-20.008434495, 37.433148065), (-18.072715364, 38.405142681))
            Line((-18.072715364, 38.405142681), (-18.793733463, 40.903168482))
            Line((-18.793733463, 40.903168482), (-18.722755953, 43.502199493))
            Line((-18.722755953, 43.502199493), (-17.521712561, 43.999687955))
            Line((-17.521712561, 43.999687955), (-15.63373143, 42.212084181))
            Line((-15.63373143, 42.212084181), (-14.377197234, 39.935876411))
            ThreePointArc((-14.377197234, 39.935876411), (-12.321133126, 40.61733255), (-10.232981553, 41.193010494))
            Line((-10.232981553, 41.193010494), (-10.452804833, 43.783701082))
            Line((-10.452804833, 43.783701082), (-9.87614534, 46.318945415))
            Line((-9.87614534, 46.318945415), (-8.601124475, 46.572562834))
            Line((-8.601124475, 46.572562834), (-7.098164569, 44.450980519))
            Line((-7.098164569, 44.450980519), (-6.309840432, 41.973371782))
            ThreePointArc((-6.309840432, 41.973371782), (-4.160337521, 42.240615724), (-2, 42.397854014))
        make_face()
    extrude(amount=BOSS_EXTRU_1_DEPTH)

    # Esquisse2 → Enlèv. mat.-Extru.3 (cut)
    with BuildSketch(Plane.XY.offset(10)):
        with Locations((0, 8)):
            Circle(ESQUISSE2_R)
        Circle(ESQUISSE2_R_2)
        with Locations((8, 0)):
            Circle(ESQUISSE2_R)
        with Locations((0, -8)):
            Circle(ESQUISSE2_R)
        with Locations((-8, 0)):
            Circle(ESQUISSE2_R)
    extrude(amount=-ENL_V_MAT_EXTRU_3_DEPTH, mode=Mode.SUBTRACT)

    # Esquisse3 → Enlèv. mat.-Extru.6 (cut)
    with BuildSketch(Plane.XY.offset(10)):
        with BuildLine():
            Line((-36.363667706, 21.89204641), (-14.065404068, 8.467805864))
            ThreePointArc((-14.065404068, 8.467805864), (0.265065614, 16.415513028), (14.331463821, 8.009274155))
            Line((14.331463821, 8.009274155), (37.051519146, 20.706592042))
            Line((37.051519146, 20.706592042), (45.6183096, 25.494223943))
            ThreePointArc((45.6183096, 25.494223943), (0.922129514, 57.107479129), (-44.77141801, 26.953770693))
            Line((-44.77141801, 26.953770693), (-36.363667706, 21.89204641))
        make_face()
    extrude(amount=-ENL_V_MAT_EXTRU_6_DEPTH, mode=Mode.SUBTRACT)


solid = part.part
